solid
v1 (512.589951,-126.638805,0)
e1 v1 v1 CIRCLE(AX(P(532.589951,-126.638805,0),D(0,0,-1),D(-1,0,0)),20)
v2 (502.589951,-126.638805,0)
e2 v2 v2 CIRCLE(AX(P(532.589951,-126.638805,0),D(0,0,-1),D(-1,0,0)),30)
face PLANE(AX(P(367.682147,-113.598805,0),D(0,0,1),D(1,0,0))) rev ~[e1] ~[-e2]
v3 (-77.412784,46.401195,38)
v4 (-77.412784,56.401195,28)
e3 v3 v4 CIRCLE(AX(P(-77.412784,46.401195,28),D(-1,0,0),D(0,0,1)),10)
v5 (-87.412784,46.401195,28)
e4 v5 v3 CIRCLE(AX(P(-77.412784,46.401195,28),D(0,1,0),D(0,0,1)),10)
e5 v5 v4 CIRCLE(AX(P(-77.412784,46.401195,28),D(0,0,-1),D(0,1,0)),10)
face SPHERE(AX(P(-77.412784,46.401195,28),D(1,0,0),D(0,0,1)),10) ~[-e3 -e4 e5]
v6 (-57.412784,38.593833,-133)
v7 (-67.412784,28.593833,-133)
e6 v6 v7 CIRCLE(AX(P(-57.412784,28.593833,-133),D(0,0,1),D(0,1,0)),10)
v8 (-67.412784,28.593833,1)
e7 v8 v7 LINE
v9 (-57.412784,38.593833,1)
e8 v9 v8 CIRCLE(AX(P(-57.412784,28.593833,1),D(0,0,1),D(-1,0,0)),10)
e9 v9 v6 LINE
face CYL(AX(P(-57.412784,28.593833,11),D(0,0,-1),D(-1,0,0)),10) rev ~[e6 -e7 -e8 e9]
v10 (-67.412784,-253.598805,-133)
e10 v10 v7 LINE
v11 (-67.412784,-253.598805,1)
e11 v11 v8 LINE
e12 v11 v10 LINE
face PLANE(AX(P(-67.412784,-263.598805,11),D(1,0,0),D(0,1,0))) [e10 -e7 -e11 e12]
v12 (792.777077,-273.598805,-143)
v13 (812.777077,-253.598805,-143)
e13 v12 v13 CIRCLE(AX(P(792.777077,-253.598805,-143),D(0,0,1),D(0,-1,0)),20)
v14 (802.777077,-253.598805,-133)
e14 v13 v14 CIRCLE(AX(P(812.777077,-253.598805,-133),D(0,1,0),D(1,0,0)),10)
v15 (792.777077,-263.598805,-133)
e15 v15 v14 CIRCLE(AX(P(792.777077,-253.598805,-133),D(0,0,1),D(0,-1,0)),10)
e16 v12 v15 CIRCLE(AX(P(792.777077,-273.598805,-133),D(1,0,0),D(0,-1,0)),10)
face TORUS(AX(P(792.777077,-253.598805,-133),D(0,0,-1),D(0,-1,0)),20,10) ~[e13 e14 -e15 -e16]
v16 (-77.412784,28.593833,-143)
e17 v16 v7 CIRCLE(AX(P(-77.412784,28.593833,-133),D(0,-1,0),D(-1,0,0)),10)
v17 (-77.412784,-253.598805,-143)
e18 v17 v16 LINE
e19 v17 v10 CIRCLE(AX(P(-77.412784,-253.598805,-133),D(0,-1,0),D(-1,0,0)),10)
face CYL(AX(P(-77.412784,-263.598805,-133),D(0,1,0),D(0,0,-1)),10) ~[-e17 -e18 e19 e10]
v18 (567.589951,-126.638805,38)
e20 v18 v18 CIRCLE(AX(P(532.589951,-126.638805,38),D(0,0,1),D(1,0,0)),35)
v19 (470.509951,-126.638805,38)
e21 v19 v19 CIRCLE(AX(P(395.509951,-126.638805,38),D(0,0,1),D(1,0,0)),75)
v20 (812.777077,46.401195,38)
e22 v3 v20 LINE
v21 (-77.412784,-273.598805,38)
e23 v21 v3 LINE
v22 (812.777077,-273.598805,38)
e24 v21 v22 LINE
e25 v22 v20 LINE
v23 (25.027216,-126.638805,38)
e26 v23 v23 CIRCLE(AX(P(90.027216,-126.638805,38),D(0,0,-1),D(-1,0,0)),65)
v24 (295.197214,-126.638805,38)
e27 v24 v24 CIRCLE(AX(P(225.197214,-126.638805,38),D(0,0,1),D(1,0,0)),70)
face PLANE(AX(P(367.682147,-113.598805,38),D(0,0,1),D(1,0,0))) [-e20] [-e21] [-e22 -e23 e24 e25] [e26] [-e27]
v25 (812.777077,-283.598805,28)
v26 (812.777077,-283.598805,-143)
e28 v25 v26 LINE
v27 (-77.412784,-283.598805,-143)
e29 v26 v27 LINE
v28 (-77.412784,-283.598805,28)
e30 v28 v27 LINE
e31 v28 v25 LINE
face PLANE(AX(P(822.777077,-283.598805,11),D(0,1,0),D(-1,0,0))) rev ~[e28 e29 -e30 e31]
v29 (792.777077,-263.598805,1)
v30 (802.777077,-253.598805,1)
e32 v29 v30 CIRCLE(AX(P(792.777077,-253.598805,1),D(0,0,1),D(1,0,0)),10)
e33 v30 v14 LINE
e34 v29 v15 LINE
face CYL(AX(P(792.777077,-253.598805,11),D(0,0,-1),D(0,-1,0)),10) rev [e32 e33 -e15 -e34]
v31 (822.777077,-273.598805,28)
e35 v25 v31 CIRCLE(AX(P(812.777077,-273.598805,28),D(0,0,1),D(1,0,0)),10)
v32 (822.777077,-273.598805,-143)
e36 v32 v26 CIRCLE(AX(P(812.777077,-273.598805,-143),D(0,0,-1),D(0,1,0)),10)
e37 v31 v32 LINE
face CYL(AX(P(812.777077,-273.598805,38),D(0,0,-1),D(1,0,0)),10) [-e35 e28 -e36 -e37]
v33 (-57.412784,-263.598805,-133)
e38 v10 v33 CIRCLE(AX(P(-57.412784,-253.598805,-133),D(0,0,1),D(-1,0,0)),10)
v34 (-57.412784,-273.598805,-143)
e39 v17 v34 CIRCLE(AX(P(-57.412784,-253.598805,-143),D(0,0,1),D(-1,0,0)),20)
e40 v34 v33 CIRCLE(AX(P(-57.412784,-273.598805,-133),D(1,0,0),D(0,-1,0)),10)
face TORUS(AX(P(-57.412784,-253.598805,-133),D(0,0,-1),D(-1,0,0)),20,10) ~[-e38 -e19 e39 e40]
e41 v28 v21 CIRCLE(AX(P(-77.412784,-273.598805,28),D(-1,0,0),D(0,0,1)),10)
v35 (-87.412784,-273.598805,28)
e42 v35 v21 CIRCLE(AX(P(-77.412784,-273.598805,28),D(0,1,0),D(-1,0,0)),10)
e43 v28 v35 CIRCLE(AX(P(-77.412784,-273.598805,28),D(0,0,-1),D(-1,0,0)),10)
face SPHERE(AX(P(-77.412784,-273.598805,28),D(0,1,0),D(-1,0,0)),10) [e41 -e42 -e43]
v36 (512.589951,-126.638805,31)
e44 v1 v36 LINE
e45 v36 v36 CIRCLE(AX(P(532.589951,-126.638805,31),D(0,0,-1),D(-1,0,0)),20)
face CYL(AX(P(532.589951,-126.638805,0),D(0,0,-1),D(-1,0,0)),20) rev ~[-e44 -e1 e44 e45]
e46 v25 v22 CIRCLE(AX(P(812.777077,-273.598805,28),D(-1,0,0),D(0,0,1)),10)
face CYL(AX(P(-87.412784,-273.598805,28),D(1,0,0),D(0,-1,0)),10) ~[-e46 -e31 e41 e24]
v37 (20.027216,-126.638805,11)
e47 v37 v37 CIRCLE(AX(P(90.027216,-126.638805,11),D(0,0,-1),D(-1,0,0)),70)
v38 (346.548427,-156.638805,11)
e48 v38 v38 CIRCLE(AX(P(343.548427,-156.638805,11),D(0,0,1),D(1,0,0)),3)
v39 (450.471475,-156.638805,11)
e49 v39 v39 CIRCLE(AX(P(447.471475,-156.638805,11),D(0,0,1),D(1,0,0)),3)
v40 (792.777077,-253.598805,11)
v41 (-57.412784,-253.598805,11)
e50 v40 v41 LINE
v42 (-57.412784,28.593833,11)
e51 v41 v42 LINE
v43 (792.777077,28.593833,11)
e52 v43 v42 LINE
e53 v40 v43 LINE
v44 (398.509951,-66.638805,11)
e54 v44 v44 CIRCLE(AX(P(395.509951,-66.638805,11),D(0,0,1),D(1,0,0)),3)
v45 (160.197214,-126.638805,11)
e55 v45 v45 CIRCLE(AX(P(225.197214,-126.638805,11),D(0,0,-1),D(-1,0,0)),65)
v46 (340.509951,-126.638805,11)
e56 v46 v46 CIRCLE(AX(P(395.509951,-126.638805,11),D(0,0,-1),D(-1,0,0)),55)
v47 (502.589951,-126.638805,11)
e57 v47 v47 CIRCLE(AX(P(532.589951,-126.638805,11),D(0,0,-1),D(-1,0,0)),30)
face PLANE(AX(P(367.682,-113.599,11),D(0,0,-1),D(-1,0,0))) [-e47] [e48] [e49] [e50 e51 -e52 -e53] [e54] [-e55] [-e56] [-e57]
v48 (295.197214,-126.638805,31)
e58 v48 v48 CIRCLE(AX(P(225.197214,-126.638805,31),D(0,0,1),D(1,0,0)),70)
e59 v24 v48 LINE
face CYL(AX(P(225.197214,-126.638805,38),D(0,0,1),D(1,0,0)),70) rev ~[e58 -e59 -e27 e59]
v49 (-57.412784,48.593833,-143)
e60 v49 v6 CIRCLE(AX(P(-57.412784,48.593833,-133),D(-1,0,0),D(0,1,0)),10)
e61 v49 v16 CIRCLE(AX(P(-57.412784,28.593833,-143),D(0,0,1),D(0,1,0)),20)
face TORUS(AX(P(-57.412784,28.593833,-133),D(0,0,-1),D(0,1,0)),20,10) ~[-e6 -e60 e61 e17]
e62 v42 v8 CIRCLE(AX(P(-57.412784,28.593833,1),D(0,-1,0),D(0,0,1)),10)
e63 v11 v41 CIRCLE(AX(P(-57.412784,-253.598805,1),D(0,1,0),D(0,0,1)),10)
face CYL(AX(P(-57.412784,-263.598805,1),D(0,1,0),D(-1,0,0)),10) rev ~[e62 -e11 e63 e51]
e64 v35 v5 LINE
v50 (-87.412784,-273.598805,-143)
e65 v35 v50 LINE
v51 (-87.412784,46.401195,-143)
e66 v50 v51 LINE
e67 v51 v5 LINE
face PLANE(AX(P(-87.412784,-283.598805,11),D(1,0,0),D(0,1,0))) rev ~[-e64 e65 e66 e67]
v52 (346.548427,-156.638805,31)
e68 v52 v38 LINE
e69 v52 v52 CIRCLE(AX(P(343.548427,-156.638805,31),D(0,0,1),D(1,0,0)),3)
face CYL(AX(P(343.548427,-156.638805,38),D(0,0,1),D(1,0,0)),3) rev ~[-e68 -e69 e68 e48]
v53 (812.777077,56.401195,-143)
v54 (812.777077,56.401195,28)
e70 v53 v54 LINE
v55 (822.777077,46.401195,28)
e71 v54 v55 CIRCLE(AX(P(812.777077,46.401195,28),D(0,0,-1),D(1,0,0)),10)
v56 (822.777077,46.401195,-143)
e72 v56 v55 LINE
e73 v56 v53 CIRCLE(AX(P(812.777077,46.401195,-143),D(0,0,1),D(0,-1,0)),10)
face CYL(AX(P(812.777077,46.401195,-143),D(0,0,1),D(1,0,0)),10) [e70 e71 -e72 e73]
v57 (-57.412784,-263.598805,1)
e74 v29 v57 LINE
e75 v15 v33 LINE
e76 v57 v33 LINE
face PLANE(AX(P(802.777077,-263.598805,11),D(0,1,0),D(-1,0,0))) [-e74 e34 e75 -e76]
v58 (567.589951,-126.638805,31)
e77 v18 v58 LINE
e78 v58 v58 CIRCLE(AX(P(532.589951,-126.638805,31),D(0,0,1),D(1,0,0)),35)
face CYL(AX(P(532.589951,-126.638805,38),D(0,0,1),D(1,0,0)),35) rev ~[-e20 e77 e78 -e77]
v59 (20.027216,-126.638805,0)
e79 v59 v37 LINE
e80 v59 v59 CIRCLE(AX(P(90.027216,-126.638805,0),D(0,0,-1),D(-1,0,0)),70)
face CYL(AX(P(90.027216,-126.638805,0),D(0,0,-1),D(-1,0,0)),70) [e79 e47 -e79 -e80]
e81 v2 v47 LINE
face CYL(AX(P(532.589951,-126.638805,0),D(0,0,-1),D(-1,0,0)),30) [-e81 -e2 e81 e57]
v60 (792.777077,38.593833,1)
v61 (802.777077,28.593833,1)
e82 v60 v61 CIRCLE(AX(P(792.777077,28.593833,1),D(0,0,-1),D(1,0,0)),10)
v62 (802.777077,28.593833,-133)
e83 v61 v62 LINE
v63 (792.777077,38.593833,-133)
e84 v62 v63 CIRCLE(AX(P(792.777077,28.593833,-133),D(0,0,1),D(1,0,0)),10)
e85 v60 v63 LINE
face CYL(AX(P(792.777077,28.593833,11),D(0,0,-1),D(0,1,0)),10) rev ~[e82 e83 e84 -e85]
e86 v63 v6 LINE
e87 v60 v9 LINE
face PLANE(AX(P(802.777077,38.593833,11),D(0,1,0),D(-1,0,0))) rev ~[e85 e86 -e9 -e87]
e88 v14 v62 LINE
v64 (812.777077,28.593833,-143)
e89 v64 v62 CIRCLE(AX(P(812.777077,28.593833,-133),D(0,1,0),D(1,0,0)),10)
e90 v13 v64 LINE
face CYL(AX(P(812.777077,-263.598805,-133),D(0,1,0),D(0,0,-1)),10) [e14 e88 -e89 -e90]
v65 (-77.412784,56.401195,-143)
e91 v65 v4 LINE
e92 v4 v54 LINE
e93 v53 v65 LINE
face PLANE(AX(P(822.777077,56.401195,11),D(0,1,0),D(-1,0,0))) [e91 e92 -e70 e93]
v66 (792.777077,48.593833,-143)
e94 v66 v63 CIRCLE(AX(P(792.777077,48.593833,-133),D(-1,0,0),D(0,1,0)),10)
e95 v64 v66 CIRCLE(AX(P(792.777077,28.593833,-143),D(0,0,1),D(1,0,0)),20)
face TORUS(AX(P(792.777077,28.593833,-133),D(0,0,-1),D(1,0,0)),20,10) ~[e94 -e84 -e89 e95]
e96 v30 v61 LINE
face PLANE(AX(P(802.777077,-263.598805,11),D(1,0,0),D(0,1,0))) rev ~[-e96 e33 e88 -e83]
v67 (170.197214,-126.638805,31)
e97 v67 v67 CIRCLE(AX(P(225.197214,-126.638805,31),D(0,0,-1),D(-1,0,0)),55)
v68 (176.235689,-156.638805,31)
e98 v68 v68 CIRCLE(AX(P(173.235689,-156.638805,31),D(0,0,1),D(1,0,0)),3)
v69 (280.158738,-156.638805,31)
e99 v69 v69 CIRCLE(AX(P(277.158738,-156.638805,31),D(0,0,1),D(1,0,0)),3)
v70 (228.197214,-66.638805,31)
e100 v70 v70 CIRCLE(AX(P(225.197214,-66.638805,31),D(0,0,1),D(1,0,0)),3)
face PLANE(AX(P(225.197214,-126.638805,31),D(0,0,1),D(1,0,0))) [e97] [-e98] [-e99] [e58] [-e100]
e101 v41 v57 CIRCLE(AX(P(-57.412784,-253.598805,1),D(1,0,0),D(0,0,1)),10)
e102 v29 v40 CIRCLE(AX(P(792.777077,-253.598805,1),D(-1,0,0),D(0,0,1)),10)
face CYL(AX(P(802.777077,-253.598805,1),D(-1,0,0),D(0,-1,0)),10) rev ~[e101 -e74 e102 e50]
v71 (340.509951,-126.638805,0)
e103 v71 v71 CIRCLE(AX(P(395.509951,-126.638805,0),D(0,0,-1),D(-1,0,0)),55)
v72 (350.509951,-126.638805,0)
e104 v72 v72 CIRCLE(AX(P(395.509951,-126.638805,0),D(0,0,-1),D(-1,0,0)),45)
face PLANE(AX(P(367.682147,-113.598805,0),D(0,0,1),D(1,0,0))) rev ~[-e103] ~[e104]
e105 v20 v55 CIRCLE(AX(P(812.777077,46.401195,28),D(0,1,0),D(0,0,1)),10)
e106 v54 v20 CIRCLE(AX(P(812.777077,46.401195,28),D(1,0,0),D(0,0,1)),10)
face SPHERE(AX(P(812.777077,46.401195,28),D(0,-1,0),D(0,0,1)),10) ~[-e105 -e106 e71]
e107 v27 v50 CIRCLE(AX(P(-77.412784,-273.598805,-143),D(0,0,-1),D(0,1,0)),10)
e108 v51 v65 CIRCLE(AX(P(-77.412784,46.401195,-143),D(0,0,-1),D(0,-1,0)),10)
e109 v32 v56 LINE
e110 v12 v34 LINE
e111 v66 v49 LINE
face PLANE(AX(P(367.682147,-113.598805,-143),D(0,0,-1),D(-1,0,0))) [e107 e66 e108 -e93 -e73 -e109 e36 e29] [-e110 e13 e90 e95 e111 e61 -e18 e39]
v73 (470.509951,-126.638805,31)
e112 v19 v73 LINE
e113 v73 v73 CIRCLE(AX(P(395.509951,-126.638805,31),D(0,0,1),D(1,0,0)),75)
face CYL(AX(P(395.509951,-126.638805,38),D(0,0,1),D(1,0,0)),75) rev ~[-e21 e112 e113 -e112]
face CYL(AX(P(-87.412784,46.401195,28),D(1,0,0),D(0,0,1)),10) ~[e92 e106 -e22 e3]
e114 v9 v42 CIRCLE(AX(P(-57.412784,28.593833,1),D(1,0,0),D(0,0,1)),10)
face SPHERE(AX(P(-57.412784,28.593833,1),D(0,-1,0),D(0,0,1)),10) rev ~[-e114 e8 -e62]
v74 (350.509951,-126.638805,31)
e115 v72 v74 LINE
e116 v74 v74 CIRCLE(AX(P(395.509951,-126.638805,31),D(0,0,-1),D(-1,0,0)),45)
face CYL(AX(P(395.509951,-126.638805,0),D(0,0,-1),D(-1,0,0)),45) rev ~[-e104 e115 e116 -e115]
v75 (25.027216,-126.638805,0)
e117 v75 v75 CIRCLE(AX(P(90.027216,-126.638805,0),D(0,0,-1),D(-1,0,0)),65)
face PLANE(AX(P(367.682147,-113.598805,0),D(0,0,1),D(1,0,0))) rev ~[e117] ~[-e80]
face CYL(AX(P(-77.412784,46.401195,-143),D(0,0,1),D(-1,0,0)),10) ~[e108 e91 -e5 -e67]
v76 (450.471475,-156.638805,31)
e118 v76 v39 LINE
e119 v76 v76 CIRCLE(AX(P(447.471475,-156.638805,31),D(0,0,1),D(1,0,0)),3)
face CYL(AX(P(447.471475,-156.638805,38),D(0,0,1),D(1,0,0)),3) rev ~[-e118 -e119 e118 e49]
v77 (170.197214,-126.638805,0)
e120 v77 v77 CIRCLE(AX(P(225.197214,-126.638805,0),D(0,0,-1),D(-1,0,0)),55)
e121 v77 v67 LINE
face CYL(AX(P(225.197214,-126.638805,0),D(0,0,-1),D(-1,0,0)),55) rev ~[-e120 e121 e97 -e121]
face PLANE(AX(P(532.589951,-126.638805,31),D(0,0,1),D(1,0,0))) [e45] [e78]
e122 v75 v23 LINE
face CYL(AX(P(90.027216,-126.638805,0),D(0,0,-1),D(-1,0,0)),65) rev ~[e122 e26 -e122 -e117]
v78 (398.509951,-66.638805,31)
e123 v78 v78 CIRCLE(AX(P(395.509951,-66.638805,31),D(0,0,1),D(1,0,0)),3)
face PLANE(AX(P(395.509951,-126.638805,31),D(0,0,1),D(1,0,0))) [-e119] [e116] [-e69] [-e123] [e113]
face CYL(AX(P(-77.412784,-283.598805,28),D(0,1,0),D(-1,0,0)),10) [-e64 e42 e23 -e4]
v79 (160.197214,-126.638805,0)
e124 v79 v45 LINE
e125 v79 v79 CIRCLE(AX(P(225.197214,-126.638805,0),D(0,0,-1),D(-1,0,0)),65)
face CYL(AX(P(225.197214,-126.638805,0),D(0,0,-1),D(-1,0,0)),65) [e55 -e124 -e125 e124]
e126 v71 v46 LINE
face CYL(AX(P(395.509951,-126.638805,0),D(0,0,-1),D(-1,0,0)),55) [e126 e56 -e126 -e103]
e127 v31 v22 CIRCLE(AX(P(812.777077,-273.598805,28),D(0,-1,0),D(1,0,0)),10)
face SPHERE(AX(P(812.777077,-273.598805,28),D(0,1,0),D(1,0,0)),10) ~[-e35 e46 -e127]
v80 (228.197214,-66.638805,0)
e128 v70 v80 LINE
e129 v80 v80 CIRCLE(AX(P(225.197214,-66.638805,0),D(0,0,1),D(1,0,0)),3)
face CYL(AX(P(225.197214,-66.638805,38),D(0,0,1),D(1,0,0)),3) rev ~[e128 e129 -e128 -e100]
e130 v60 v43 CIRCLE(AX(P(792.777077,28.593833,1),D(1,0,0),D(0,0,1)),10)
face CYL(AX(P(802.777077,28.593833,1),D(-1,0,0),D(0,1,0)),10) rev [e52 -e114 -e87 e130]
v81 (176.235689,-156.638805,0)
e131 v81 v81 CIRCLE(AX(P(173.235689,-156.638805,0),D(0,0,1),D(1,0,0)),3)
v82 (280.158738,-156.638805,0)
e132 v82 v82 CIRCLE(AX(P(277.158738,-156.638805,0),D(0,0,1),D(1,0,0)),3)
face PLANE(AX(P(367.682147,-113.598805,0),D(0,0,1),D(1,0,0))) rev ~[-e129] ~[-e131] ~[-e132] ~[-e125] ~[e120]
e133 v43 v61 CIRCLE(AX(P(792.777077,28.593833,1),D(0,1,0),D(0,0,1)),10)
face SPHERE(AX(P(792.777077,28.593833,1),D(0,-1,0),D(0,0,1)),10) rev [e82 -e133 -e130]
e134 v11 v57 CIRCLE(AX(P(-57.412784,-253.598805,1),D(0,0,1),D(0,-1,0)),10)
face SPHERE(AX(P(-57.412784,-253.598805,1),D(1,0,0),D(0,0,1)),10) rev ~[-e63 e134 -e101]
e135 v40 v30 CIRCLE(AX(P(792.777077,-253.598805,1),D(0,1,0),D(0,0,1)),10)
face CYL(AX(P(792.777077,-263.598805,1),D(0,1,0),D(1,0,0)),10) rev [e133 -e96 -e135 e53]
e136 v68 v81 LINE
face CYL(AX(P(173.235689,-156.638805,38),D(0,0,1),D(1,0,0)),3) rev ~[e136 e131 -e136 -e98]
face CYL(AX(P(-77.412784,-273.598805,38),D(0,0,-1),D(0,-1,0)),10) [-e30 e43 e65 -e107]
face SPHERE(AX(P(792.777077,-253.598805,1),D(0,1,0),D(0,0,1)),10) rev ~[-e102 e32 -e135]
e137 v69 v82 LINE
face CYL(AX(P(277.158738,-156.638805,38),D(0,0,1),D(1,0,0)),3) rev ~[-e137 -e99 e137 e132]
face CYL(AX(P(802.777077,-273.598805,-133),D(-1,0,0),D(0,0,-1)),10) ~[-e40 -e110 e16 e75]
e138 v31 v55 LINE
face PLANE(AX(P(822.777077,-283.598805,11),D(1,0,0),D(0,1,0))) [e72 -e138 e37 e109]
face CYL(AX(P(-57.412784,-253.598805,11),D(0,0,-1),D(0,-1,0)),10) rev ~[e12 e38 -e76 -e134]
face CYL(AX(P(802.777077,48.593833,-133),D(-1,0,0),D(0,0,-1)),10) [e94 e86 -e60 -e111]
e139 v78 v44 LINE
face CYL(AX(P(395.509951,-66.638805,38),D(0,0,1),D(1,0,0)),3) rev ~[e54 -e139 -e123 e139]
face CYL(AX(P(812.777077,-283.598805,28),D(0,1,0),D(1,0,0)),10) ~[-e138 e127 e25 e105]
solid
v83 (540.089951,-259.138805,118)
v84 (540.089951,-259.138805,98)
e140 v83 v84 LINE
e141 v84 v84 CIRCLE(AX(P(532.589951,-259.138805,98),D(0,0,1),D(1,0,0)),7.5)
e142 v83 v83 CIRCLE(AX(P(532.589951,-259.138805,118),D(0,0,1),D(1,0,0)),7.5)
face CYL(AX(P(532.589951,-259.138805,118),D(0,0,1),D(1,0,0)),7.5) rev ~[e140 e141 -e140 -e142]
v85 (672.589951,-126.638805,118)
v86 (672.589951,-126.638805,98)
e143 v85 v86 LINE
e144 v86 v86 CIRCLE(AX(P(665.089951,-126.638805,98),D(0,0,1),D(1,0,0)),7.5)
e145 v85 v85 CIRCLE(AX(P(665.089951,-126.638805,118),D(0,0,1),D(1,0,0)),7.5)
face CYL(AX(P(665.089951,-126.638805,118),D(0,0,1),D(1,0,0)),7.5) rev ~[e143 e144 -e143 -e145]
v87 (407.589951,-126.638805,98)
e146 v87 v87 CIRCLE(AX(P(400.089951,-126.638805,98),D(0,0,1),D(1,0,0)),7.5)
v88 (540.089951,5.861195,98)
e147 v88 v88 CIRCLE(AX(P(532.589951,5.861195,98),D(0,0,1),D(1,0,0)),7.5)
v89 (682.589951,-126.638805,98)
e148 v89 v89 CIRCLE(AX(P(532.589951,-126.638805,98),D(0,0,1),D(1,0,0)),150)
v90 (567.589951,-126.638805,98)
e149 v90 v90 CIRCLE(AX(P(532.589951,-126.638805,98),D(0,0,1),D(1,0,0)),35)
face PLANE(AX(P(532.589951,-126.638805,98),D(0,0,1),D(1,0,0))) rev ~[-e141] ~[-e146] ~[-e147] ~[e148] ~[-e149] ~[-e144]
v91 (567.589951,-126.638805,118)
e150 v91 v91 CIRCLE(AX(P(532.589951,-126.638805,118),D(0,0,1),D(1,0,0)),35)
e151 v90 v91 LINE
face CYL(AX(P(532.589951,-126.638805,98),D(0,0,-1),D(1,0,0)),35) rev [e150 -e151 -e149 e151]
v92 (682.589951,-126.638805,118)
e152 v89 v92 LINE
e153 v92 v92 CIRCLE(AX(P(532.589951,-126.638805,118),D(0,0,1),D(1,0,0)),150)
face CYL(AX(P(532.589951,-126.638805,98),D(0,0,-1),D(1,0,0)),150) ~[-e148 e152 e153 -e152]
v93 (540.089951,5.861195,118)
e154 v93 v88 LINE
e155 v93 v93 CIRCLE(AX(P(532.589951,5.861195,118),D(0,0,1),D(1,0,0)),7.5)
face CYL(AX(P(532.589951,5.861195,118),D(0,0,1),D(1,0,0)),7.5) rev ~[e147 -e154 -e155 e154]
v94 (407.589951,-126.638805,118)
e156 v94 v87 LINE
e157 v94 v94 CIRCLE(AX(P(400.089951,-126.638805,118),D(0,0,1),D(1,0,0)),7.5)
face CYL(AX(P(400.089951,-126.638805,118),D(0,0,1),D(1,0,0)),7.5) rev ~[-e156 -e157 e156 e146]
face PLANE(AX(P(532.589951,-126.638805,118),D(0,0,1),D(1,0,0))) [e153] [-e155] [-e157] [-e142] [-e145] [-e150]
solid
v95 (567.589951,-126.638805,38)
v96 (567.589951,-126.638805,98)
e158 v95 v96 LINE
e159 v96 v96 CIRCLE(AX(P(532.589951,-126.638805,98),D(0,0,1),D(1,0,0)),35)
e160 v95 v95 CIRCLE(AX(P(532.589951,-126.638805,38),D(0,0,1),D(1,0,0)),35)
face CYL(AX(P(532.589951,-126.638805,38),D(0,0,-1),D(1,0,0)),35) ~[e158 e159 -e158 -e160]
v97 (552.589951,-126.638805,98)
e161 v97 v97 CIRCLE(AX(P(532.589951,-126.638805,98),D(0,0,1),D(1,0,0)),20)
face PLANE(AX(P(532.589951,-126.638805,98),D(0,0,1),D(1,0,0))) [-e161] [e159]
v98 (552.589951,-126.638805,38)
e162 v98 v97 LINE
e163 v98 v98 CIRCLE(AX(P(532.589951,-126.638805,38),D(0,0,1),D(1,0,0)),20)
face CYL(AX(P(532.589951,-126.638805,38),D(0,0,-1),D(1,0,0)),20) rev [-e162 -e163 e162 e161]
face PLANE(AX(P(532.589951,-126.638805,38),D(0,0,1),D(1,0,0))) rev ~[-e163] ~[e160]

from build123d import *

# Parameters (mm, degrees)
SKETCH1_W           = 910.189861438
SKETCH1_H           = 340
BOSS_EXTRUDE1_DEPTH = 38
SKETCH2_R           = 65
SKETCH2_R_2         = 55
SKETCH2_R_3         = 45
SKETCH2_R_4         = 20
CUT_EXTRUDE1_DEPTH  = 39
SKETCH4_OUTSIDE_W   = 1106.662
SKETCH4_OUTSIDE_H   = 536.472
SKETCH4_OUTSIDE_R   = 30
SKETCH4_OUTSIDE_R_2 = 55
SKETCH4_OUTSIDE_R_3 = 65
SKETCH4_OUTSIDE_R_4 = 70
CUT_EXTRUDE2_DEPTH  = 11
SKETCH10_W          = 910.189861438
SKETCH10_H          = 340
SKETCH10_W_2        = 870.189861438
SKETCH10_H_2        = 302.19263839
BOSS_EXTRUDE2_DEPTH = 154
FILLET1_R           = 10
SKETCH11_R          = 35
SKETCH11_R_2        = 75
SKETCH11_R_3        = 70
CUT_EXTRUDE3_DEPTH  = 7
FILLET2_R           = 10
SKETCH12_R          = 3
CUT_EXTRUDE4_DEPTH  = 182
SKETCH15_R          = 35
SKETCH15_R_2        = 20
BOSS_EXTRUDE3_DEPTH = 60
SKETCH20_R          = 150
SKETCH20_R_2        = 35
BOSS_EXTRUDE4_DEPTH = 20
SKETCH21_R          = 7.5
CUT_EXTRUDE7_DEPTH  = 46


with BuildPart() as part:
    # Sketch1 → Boss-Extrude1 (new body)
    with BuildSketch(Plane.XY):
        with Locations((367.68214674, -113.598805358)):
            Rectangle(SKETCH1_W, SKETCH1_H)
    extrude(amount=BOSS_EXTRUDE1_DEPTH)

    # Sketch2 → Cut-Extrude1 (cut, through all)
    with BuildSketch(Plane(origin=(0, 0, 0), x_dir=(-1, 0, 0), z_dir=(0, 0, -1))):
        with Locations((-90.027216021, -126.638805358)):
            Circle(SKETCH2_R)
        with Locations((-225.197213686, -126.638805358)):
            Circle(SKETCH2_R_2)
        with Locations((-395.509950896, -126.638805358)):
            Circle(SKETCH2_R_3)
        with Locations((-532.589950896, -126.638805358)):
            Circle(SKETCH2_R_4)
    extrude(amount=-CUT_EXTRUDE1_DEPTH, mode=Mode.SUBTRACT)

    # Sketch4 outside → Cut-Extrude2 (cut)
    with BuildSketch(Plane(origin=(0, 0, 0), x_dir=(-1, 0, 0), z_dir=(0, 0, -1))):
        with Locations((-367.682, -113.599)):
            Rectangle(SKETCH4_OUTSIDE_W, SKETCH4_OUTSIDE_H)
        with Locations((-532.589950896, -126.638805358)):
            Circle(SKETCH4_OUTSIDE_R, mode=Mode.SUBTRACT)
        with Locations((-395.509950896, -126.638805358)):
            Circle(SKETCH4_OUTSIDE_R_2, mode=Mode.SUBTRACT)
        with Locations((-225.197213686, -126.638805358)):
            Circle(SKETCH4_OUTSIDE_R_3, mode=Mode.SUBTRACT)
        with Locations((-90.027216021, -126.638805358)):
            Circle(SKETCH4_OUTSIDE_R_4, mode=Mode.SUBTRACT)
    extrude(amount=-CUT_EXTRUDE2_DEPTH, mode=Mode.SUBTRACT)

    # Sketch10 → Boss-Extrude2 (add)
    with BuildSketch(Plane(origin=(0, 0, 11), x_dir=(-1, 0, 0), z_dir=(0, 0, -1))):
        with Locations((-367.68214674, -113.598805358)):
            Rectangle(SKETCH10_W, SKETCH10_H)
        with Locations((-367.68214674, -112.502486163)):
            Rectangle(SKETCH10_W_2, SKETCH10_H_2, mode=Mode.SUBTRACT)
    extrude(amount=BOSS_EXTRUDE2_DEPTH)

    # Fillet1
    fillet1_edges = [part.edges().sort_by_distance(p)[0] for p in [
        (822.777077459, -113.598805358, 38),
        (367.68214674, 56.401194642, 38),
        (-87.412783979, -113.598805358, 38),
        (-87.412783979, 56.401194642, -52.5),
        (822.777077459, 56.401194642, -52.5),
        (822.777077459, -283.598805358, -52.5),
        (-87.412783979, -283.598805358, -52.5),
        (367.68214674, -283.598805358, 38),
    ]]
    fillet(fillet1_edges, radius=FILLET1_R)

    # Sketch11 → Cut-Extrude3 (cut)
    with BuildSketch(Plane.XY.offset(38)):
        with Locations((532.589950896, -126.638805358)):
            Circle(SKETCH11_R)
        with Locations((395.509950896, -126.638805358)):
            Circle(SKETCH11_R_2)
        with Locations((225.197213686, -126.638805358)):
            Circle(SKETCH11_R_3)
    extrude(amount=-CUT_EXTRUDE3_DEPTH, mode=Mode.SUBTRACT)

    # Fillet2
    fillet2_edges = [part.edges().sort_by_distance(p)[0] for p in [
        (802.777077459, -112.502486163, 11),
        (367.68214674, -263.598805358, 11),
        (-67.412783979, -112.502486163, 11),
        (367.68214674, 38.593833032, 11),
        (802.777077459, -112.502486163, -143),
        (802.777077459, -263.598805358, -66),
        (367.68214674, -263.598805358, -143),
        (-67.412783979, -263.598805358, -66),
        (-67.412783979, -112.502486163, -143),
        (-67.412783979, 38.593833032, -66),
        (367.68214674, 38.593833032, -143),
        (802.777077459, 38.593833032, -66),
    ]]
    fillet(fillet2_edges, radius=FILLET2_R)

    # Sketch12 → Cut-Extrude4 (cut, through all)
    with BuildSketch(Plane.XY.offset(38)):
        with Locations((225.197213686, -66.638805358)):
            Circle(SKETCH12_R)
        with Locations((277.158737913, -156.638805358)):
            Circle(SKETCH12_R)
        with Locations((173.235689459, -156.638805358)):
            Circle(SKETCH12_R)
        with Locations((395.509950896, -66.638805358)):
            Circle(SKETCH12_R)
        with Locations((447.471475123, -156.638805358)):
            Circle(SKETCH12_R)
        with Locations((343.548426669, -156.638805358)):
            Circle(SKETCH12_R)
    extrude(amount=-CUT_EXTRUDE4_DEPTH, mode=Mode.SUBTRACT)


with BuildPart() as body_2:
    # Sketch15 → Boss-Extrude3 (new body)
    with BuildSketch(Plane.XY.offset(38)):
        with Locations((532.589950896, -126.638805358)):
            Circle(SKETCH15_R)
        with Locations((532.589950896, -126.638805358)):
            Circle(SKETCH15_R_2, mode=Mode.SUBTRACT)
    extrude(amount=BOSS_EXTRUDE3_DEPTH)


with BuildPart() as body_3:
    # Sketch20 → Boss-Extrude4 (new body)
    with BuildSketch(Plane.XY.offset(98)):
        with Locations((532.589950896, -126.638805358)):
            Circle(SKETCH20_R)
        with Locations((532.589950896, -126.638805358)):
            Circle(SKETCH20_R_2, mode=Mode.SUBTRACT)
    extrude(amount=BOSS_EXTRUDE4_DEPTH)

    # Sketch21 → Cut-Extrude7 (cut)
    with BuildSketch(Plane.XY.offset(118)):
        with Locations((532.589950896, 5.861194642)):
            Circle(SKETCH21_R)
        with Locations((665.089950896, -126.638805358)):
            Circle(SKETCH21_R)
        with Locations((532.589950896, -259.138805358)):
            Circle(SKETCH21_R)
        with Locations((400.089950896, -126.638805358)):
            Circle(SKETCH21_R)
    extrude(amount=-CUT_EXTRUDE7_DEPTH, mode=Mode.SUBTRACT)


solid = Compound([part.part, body_2.part, body_3.part])
